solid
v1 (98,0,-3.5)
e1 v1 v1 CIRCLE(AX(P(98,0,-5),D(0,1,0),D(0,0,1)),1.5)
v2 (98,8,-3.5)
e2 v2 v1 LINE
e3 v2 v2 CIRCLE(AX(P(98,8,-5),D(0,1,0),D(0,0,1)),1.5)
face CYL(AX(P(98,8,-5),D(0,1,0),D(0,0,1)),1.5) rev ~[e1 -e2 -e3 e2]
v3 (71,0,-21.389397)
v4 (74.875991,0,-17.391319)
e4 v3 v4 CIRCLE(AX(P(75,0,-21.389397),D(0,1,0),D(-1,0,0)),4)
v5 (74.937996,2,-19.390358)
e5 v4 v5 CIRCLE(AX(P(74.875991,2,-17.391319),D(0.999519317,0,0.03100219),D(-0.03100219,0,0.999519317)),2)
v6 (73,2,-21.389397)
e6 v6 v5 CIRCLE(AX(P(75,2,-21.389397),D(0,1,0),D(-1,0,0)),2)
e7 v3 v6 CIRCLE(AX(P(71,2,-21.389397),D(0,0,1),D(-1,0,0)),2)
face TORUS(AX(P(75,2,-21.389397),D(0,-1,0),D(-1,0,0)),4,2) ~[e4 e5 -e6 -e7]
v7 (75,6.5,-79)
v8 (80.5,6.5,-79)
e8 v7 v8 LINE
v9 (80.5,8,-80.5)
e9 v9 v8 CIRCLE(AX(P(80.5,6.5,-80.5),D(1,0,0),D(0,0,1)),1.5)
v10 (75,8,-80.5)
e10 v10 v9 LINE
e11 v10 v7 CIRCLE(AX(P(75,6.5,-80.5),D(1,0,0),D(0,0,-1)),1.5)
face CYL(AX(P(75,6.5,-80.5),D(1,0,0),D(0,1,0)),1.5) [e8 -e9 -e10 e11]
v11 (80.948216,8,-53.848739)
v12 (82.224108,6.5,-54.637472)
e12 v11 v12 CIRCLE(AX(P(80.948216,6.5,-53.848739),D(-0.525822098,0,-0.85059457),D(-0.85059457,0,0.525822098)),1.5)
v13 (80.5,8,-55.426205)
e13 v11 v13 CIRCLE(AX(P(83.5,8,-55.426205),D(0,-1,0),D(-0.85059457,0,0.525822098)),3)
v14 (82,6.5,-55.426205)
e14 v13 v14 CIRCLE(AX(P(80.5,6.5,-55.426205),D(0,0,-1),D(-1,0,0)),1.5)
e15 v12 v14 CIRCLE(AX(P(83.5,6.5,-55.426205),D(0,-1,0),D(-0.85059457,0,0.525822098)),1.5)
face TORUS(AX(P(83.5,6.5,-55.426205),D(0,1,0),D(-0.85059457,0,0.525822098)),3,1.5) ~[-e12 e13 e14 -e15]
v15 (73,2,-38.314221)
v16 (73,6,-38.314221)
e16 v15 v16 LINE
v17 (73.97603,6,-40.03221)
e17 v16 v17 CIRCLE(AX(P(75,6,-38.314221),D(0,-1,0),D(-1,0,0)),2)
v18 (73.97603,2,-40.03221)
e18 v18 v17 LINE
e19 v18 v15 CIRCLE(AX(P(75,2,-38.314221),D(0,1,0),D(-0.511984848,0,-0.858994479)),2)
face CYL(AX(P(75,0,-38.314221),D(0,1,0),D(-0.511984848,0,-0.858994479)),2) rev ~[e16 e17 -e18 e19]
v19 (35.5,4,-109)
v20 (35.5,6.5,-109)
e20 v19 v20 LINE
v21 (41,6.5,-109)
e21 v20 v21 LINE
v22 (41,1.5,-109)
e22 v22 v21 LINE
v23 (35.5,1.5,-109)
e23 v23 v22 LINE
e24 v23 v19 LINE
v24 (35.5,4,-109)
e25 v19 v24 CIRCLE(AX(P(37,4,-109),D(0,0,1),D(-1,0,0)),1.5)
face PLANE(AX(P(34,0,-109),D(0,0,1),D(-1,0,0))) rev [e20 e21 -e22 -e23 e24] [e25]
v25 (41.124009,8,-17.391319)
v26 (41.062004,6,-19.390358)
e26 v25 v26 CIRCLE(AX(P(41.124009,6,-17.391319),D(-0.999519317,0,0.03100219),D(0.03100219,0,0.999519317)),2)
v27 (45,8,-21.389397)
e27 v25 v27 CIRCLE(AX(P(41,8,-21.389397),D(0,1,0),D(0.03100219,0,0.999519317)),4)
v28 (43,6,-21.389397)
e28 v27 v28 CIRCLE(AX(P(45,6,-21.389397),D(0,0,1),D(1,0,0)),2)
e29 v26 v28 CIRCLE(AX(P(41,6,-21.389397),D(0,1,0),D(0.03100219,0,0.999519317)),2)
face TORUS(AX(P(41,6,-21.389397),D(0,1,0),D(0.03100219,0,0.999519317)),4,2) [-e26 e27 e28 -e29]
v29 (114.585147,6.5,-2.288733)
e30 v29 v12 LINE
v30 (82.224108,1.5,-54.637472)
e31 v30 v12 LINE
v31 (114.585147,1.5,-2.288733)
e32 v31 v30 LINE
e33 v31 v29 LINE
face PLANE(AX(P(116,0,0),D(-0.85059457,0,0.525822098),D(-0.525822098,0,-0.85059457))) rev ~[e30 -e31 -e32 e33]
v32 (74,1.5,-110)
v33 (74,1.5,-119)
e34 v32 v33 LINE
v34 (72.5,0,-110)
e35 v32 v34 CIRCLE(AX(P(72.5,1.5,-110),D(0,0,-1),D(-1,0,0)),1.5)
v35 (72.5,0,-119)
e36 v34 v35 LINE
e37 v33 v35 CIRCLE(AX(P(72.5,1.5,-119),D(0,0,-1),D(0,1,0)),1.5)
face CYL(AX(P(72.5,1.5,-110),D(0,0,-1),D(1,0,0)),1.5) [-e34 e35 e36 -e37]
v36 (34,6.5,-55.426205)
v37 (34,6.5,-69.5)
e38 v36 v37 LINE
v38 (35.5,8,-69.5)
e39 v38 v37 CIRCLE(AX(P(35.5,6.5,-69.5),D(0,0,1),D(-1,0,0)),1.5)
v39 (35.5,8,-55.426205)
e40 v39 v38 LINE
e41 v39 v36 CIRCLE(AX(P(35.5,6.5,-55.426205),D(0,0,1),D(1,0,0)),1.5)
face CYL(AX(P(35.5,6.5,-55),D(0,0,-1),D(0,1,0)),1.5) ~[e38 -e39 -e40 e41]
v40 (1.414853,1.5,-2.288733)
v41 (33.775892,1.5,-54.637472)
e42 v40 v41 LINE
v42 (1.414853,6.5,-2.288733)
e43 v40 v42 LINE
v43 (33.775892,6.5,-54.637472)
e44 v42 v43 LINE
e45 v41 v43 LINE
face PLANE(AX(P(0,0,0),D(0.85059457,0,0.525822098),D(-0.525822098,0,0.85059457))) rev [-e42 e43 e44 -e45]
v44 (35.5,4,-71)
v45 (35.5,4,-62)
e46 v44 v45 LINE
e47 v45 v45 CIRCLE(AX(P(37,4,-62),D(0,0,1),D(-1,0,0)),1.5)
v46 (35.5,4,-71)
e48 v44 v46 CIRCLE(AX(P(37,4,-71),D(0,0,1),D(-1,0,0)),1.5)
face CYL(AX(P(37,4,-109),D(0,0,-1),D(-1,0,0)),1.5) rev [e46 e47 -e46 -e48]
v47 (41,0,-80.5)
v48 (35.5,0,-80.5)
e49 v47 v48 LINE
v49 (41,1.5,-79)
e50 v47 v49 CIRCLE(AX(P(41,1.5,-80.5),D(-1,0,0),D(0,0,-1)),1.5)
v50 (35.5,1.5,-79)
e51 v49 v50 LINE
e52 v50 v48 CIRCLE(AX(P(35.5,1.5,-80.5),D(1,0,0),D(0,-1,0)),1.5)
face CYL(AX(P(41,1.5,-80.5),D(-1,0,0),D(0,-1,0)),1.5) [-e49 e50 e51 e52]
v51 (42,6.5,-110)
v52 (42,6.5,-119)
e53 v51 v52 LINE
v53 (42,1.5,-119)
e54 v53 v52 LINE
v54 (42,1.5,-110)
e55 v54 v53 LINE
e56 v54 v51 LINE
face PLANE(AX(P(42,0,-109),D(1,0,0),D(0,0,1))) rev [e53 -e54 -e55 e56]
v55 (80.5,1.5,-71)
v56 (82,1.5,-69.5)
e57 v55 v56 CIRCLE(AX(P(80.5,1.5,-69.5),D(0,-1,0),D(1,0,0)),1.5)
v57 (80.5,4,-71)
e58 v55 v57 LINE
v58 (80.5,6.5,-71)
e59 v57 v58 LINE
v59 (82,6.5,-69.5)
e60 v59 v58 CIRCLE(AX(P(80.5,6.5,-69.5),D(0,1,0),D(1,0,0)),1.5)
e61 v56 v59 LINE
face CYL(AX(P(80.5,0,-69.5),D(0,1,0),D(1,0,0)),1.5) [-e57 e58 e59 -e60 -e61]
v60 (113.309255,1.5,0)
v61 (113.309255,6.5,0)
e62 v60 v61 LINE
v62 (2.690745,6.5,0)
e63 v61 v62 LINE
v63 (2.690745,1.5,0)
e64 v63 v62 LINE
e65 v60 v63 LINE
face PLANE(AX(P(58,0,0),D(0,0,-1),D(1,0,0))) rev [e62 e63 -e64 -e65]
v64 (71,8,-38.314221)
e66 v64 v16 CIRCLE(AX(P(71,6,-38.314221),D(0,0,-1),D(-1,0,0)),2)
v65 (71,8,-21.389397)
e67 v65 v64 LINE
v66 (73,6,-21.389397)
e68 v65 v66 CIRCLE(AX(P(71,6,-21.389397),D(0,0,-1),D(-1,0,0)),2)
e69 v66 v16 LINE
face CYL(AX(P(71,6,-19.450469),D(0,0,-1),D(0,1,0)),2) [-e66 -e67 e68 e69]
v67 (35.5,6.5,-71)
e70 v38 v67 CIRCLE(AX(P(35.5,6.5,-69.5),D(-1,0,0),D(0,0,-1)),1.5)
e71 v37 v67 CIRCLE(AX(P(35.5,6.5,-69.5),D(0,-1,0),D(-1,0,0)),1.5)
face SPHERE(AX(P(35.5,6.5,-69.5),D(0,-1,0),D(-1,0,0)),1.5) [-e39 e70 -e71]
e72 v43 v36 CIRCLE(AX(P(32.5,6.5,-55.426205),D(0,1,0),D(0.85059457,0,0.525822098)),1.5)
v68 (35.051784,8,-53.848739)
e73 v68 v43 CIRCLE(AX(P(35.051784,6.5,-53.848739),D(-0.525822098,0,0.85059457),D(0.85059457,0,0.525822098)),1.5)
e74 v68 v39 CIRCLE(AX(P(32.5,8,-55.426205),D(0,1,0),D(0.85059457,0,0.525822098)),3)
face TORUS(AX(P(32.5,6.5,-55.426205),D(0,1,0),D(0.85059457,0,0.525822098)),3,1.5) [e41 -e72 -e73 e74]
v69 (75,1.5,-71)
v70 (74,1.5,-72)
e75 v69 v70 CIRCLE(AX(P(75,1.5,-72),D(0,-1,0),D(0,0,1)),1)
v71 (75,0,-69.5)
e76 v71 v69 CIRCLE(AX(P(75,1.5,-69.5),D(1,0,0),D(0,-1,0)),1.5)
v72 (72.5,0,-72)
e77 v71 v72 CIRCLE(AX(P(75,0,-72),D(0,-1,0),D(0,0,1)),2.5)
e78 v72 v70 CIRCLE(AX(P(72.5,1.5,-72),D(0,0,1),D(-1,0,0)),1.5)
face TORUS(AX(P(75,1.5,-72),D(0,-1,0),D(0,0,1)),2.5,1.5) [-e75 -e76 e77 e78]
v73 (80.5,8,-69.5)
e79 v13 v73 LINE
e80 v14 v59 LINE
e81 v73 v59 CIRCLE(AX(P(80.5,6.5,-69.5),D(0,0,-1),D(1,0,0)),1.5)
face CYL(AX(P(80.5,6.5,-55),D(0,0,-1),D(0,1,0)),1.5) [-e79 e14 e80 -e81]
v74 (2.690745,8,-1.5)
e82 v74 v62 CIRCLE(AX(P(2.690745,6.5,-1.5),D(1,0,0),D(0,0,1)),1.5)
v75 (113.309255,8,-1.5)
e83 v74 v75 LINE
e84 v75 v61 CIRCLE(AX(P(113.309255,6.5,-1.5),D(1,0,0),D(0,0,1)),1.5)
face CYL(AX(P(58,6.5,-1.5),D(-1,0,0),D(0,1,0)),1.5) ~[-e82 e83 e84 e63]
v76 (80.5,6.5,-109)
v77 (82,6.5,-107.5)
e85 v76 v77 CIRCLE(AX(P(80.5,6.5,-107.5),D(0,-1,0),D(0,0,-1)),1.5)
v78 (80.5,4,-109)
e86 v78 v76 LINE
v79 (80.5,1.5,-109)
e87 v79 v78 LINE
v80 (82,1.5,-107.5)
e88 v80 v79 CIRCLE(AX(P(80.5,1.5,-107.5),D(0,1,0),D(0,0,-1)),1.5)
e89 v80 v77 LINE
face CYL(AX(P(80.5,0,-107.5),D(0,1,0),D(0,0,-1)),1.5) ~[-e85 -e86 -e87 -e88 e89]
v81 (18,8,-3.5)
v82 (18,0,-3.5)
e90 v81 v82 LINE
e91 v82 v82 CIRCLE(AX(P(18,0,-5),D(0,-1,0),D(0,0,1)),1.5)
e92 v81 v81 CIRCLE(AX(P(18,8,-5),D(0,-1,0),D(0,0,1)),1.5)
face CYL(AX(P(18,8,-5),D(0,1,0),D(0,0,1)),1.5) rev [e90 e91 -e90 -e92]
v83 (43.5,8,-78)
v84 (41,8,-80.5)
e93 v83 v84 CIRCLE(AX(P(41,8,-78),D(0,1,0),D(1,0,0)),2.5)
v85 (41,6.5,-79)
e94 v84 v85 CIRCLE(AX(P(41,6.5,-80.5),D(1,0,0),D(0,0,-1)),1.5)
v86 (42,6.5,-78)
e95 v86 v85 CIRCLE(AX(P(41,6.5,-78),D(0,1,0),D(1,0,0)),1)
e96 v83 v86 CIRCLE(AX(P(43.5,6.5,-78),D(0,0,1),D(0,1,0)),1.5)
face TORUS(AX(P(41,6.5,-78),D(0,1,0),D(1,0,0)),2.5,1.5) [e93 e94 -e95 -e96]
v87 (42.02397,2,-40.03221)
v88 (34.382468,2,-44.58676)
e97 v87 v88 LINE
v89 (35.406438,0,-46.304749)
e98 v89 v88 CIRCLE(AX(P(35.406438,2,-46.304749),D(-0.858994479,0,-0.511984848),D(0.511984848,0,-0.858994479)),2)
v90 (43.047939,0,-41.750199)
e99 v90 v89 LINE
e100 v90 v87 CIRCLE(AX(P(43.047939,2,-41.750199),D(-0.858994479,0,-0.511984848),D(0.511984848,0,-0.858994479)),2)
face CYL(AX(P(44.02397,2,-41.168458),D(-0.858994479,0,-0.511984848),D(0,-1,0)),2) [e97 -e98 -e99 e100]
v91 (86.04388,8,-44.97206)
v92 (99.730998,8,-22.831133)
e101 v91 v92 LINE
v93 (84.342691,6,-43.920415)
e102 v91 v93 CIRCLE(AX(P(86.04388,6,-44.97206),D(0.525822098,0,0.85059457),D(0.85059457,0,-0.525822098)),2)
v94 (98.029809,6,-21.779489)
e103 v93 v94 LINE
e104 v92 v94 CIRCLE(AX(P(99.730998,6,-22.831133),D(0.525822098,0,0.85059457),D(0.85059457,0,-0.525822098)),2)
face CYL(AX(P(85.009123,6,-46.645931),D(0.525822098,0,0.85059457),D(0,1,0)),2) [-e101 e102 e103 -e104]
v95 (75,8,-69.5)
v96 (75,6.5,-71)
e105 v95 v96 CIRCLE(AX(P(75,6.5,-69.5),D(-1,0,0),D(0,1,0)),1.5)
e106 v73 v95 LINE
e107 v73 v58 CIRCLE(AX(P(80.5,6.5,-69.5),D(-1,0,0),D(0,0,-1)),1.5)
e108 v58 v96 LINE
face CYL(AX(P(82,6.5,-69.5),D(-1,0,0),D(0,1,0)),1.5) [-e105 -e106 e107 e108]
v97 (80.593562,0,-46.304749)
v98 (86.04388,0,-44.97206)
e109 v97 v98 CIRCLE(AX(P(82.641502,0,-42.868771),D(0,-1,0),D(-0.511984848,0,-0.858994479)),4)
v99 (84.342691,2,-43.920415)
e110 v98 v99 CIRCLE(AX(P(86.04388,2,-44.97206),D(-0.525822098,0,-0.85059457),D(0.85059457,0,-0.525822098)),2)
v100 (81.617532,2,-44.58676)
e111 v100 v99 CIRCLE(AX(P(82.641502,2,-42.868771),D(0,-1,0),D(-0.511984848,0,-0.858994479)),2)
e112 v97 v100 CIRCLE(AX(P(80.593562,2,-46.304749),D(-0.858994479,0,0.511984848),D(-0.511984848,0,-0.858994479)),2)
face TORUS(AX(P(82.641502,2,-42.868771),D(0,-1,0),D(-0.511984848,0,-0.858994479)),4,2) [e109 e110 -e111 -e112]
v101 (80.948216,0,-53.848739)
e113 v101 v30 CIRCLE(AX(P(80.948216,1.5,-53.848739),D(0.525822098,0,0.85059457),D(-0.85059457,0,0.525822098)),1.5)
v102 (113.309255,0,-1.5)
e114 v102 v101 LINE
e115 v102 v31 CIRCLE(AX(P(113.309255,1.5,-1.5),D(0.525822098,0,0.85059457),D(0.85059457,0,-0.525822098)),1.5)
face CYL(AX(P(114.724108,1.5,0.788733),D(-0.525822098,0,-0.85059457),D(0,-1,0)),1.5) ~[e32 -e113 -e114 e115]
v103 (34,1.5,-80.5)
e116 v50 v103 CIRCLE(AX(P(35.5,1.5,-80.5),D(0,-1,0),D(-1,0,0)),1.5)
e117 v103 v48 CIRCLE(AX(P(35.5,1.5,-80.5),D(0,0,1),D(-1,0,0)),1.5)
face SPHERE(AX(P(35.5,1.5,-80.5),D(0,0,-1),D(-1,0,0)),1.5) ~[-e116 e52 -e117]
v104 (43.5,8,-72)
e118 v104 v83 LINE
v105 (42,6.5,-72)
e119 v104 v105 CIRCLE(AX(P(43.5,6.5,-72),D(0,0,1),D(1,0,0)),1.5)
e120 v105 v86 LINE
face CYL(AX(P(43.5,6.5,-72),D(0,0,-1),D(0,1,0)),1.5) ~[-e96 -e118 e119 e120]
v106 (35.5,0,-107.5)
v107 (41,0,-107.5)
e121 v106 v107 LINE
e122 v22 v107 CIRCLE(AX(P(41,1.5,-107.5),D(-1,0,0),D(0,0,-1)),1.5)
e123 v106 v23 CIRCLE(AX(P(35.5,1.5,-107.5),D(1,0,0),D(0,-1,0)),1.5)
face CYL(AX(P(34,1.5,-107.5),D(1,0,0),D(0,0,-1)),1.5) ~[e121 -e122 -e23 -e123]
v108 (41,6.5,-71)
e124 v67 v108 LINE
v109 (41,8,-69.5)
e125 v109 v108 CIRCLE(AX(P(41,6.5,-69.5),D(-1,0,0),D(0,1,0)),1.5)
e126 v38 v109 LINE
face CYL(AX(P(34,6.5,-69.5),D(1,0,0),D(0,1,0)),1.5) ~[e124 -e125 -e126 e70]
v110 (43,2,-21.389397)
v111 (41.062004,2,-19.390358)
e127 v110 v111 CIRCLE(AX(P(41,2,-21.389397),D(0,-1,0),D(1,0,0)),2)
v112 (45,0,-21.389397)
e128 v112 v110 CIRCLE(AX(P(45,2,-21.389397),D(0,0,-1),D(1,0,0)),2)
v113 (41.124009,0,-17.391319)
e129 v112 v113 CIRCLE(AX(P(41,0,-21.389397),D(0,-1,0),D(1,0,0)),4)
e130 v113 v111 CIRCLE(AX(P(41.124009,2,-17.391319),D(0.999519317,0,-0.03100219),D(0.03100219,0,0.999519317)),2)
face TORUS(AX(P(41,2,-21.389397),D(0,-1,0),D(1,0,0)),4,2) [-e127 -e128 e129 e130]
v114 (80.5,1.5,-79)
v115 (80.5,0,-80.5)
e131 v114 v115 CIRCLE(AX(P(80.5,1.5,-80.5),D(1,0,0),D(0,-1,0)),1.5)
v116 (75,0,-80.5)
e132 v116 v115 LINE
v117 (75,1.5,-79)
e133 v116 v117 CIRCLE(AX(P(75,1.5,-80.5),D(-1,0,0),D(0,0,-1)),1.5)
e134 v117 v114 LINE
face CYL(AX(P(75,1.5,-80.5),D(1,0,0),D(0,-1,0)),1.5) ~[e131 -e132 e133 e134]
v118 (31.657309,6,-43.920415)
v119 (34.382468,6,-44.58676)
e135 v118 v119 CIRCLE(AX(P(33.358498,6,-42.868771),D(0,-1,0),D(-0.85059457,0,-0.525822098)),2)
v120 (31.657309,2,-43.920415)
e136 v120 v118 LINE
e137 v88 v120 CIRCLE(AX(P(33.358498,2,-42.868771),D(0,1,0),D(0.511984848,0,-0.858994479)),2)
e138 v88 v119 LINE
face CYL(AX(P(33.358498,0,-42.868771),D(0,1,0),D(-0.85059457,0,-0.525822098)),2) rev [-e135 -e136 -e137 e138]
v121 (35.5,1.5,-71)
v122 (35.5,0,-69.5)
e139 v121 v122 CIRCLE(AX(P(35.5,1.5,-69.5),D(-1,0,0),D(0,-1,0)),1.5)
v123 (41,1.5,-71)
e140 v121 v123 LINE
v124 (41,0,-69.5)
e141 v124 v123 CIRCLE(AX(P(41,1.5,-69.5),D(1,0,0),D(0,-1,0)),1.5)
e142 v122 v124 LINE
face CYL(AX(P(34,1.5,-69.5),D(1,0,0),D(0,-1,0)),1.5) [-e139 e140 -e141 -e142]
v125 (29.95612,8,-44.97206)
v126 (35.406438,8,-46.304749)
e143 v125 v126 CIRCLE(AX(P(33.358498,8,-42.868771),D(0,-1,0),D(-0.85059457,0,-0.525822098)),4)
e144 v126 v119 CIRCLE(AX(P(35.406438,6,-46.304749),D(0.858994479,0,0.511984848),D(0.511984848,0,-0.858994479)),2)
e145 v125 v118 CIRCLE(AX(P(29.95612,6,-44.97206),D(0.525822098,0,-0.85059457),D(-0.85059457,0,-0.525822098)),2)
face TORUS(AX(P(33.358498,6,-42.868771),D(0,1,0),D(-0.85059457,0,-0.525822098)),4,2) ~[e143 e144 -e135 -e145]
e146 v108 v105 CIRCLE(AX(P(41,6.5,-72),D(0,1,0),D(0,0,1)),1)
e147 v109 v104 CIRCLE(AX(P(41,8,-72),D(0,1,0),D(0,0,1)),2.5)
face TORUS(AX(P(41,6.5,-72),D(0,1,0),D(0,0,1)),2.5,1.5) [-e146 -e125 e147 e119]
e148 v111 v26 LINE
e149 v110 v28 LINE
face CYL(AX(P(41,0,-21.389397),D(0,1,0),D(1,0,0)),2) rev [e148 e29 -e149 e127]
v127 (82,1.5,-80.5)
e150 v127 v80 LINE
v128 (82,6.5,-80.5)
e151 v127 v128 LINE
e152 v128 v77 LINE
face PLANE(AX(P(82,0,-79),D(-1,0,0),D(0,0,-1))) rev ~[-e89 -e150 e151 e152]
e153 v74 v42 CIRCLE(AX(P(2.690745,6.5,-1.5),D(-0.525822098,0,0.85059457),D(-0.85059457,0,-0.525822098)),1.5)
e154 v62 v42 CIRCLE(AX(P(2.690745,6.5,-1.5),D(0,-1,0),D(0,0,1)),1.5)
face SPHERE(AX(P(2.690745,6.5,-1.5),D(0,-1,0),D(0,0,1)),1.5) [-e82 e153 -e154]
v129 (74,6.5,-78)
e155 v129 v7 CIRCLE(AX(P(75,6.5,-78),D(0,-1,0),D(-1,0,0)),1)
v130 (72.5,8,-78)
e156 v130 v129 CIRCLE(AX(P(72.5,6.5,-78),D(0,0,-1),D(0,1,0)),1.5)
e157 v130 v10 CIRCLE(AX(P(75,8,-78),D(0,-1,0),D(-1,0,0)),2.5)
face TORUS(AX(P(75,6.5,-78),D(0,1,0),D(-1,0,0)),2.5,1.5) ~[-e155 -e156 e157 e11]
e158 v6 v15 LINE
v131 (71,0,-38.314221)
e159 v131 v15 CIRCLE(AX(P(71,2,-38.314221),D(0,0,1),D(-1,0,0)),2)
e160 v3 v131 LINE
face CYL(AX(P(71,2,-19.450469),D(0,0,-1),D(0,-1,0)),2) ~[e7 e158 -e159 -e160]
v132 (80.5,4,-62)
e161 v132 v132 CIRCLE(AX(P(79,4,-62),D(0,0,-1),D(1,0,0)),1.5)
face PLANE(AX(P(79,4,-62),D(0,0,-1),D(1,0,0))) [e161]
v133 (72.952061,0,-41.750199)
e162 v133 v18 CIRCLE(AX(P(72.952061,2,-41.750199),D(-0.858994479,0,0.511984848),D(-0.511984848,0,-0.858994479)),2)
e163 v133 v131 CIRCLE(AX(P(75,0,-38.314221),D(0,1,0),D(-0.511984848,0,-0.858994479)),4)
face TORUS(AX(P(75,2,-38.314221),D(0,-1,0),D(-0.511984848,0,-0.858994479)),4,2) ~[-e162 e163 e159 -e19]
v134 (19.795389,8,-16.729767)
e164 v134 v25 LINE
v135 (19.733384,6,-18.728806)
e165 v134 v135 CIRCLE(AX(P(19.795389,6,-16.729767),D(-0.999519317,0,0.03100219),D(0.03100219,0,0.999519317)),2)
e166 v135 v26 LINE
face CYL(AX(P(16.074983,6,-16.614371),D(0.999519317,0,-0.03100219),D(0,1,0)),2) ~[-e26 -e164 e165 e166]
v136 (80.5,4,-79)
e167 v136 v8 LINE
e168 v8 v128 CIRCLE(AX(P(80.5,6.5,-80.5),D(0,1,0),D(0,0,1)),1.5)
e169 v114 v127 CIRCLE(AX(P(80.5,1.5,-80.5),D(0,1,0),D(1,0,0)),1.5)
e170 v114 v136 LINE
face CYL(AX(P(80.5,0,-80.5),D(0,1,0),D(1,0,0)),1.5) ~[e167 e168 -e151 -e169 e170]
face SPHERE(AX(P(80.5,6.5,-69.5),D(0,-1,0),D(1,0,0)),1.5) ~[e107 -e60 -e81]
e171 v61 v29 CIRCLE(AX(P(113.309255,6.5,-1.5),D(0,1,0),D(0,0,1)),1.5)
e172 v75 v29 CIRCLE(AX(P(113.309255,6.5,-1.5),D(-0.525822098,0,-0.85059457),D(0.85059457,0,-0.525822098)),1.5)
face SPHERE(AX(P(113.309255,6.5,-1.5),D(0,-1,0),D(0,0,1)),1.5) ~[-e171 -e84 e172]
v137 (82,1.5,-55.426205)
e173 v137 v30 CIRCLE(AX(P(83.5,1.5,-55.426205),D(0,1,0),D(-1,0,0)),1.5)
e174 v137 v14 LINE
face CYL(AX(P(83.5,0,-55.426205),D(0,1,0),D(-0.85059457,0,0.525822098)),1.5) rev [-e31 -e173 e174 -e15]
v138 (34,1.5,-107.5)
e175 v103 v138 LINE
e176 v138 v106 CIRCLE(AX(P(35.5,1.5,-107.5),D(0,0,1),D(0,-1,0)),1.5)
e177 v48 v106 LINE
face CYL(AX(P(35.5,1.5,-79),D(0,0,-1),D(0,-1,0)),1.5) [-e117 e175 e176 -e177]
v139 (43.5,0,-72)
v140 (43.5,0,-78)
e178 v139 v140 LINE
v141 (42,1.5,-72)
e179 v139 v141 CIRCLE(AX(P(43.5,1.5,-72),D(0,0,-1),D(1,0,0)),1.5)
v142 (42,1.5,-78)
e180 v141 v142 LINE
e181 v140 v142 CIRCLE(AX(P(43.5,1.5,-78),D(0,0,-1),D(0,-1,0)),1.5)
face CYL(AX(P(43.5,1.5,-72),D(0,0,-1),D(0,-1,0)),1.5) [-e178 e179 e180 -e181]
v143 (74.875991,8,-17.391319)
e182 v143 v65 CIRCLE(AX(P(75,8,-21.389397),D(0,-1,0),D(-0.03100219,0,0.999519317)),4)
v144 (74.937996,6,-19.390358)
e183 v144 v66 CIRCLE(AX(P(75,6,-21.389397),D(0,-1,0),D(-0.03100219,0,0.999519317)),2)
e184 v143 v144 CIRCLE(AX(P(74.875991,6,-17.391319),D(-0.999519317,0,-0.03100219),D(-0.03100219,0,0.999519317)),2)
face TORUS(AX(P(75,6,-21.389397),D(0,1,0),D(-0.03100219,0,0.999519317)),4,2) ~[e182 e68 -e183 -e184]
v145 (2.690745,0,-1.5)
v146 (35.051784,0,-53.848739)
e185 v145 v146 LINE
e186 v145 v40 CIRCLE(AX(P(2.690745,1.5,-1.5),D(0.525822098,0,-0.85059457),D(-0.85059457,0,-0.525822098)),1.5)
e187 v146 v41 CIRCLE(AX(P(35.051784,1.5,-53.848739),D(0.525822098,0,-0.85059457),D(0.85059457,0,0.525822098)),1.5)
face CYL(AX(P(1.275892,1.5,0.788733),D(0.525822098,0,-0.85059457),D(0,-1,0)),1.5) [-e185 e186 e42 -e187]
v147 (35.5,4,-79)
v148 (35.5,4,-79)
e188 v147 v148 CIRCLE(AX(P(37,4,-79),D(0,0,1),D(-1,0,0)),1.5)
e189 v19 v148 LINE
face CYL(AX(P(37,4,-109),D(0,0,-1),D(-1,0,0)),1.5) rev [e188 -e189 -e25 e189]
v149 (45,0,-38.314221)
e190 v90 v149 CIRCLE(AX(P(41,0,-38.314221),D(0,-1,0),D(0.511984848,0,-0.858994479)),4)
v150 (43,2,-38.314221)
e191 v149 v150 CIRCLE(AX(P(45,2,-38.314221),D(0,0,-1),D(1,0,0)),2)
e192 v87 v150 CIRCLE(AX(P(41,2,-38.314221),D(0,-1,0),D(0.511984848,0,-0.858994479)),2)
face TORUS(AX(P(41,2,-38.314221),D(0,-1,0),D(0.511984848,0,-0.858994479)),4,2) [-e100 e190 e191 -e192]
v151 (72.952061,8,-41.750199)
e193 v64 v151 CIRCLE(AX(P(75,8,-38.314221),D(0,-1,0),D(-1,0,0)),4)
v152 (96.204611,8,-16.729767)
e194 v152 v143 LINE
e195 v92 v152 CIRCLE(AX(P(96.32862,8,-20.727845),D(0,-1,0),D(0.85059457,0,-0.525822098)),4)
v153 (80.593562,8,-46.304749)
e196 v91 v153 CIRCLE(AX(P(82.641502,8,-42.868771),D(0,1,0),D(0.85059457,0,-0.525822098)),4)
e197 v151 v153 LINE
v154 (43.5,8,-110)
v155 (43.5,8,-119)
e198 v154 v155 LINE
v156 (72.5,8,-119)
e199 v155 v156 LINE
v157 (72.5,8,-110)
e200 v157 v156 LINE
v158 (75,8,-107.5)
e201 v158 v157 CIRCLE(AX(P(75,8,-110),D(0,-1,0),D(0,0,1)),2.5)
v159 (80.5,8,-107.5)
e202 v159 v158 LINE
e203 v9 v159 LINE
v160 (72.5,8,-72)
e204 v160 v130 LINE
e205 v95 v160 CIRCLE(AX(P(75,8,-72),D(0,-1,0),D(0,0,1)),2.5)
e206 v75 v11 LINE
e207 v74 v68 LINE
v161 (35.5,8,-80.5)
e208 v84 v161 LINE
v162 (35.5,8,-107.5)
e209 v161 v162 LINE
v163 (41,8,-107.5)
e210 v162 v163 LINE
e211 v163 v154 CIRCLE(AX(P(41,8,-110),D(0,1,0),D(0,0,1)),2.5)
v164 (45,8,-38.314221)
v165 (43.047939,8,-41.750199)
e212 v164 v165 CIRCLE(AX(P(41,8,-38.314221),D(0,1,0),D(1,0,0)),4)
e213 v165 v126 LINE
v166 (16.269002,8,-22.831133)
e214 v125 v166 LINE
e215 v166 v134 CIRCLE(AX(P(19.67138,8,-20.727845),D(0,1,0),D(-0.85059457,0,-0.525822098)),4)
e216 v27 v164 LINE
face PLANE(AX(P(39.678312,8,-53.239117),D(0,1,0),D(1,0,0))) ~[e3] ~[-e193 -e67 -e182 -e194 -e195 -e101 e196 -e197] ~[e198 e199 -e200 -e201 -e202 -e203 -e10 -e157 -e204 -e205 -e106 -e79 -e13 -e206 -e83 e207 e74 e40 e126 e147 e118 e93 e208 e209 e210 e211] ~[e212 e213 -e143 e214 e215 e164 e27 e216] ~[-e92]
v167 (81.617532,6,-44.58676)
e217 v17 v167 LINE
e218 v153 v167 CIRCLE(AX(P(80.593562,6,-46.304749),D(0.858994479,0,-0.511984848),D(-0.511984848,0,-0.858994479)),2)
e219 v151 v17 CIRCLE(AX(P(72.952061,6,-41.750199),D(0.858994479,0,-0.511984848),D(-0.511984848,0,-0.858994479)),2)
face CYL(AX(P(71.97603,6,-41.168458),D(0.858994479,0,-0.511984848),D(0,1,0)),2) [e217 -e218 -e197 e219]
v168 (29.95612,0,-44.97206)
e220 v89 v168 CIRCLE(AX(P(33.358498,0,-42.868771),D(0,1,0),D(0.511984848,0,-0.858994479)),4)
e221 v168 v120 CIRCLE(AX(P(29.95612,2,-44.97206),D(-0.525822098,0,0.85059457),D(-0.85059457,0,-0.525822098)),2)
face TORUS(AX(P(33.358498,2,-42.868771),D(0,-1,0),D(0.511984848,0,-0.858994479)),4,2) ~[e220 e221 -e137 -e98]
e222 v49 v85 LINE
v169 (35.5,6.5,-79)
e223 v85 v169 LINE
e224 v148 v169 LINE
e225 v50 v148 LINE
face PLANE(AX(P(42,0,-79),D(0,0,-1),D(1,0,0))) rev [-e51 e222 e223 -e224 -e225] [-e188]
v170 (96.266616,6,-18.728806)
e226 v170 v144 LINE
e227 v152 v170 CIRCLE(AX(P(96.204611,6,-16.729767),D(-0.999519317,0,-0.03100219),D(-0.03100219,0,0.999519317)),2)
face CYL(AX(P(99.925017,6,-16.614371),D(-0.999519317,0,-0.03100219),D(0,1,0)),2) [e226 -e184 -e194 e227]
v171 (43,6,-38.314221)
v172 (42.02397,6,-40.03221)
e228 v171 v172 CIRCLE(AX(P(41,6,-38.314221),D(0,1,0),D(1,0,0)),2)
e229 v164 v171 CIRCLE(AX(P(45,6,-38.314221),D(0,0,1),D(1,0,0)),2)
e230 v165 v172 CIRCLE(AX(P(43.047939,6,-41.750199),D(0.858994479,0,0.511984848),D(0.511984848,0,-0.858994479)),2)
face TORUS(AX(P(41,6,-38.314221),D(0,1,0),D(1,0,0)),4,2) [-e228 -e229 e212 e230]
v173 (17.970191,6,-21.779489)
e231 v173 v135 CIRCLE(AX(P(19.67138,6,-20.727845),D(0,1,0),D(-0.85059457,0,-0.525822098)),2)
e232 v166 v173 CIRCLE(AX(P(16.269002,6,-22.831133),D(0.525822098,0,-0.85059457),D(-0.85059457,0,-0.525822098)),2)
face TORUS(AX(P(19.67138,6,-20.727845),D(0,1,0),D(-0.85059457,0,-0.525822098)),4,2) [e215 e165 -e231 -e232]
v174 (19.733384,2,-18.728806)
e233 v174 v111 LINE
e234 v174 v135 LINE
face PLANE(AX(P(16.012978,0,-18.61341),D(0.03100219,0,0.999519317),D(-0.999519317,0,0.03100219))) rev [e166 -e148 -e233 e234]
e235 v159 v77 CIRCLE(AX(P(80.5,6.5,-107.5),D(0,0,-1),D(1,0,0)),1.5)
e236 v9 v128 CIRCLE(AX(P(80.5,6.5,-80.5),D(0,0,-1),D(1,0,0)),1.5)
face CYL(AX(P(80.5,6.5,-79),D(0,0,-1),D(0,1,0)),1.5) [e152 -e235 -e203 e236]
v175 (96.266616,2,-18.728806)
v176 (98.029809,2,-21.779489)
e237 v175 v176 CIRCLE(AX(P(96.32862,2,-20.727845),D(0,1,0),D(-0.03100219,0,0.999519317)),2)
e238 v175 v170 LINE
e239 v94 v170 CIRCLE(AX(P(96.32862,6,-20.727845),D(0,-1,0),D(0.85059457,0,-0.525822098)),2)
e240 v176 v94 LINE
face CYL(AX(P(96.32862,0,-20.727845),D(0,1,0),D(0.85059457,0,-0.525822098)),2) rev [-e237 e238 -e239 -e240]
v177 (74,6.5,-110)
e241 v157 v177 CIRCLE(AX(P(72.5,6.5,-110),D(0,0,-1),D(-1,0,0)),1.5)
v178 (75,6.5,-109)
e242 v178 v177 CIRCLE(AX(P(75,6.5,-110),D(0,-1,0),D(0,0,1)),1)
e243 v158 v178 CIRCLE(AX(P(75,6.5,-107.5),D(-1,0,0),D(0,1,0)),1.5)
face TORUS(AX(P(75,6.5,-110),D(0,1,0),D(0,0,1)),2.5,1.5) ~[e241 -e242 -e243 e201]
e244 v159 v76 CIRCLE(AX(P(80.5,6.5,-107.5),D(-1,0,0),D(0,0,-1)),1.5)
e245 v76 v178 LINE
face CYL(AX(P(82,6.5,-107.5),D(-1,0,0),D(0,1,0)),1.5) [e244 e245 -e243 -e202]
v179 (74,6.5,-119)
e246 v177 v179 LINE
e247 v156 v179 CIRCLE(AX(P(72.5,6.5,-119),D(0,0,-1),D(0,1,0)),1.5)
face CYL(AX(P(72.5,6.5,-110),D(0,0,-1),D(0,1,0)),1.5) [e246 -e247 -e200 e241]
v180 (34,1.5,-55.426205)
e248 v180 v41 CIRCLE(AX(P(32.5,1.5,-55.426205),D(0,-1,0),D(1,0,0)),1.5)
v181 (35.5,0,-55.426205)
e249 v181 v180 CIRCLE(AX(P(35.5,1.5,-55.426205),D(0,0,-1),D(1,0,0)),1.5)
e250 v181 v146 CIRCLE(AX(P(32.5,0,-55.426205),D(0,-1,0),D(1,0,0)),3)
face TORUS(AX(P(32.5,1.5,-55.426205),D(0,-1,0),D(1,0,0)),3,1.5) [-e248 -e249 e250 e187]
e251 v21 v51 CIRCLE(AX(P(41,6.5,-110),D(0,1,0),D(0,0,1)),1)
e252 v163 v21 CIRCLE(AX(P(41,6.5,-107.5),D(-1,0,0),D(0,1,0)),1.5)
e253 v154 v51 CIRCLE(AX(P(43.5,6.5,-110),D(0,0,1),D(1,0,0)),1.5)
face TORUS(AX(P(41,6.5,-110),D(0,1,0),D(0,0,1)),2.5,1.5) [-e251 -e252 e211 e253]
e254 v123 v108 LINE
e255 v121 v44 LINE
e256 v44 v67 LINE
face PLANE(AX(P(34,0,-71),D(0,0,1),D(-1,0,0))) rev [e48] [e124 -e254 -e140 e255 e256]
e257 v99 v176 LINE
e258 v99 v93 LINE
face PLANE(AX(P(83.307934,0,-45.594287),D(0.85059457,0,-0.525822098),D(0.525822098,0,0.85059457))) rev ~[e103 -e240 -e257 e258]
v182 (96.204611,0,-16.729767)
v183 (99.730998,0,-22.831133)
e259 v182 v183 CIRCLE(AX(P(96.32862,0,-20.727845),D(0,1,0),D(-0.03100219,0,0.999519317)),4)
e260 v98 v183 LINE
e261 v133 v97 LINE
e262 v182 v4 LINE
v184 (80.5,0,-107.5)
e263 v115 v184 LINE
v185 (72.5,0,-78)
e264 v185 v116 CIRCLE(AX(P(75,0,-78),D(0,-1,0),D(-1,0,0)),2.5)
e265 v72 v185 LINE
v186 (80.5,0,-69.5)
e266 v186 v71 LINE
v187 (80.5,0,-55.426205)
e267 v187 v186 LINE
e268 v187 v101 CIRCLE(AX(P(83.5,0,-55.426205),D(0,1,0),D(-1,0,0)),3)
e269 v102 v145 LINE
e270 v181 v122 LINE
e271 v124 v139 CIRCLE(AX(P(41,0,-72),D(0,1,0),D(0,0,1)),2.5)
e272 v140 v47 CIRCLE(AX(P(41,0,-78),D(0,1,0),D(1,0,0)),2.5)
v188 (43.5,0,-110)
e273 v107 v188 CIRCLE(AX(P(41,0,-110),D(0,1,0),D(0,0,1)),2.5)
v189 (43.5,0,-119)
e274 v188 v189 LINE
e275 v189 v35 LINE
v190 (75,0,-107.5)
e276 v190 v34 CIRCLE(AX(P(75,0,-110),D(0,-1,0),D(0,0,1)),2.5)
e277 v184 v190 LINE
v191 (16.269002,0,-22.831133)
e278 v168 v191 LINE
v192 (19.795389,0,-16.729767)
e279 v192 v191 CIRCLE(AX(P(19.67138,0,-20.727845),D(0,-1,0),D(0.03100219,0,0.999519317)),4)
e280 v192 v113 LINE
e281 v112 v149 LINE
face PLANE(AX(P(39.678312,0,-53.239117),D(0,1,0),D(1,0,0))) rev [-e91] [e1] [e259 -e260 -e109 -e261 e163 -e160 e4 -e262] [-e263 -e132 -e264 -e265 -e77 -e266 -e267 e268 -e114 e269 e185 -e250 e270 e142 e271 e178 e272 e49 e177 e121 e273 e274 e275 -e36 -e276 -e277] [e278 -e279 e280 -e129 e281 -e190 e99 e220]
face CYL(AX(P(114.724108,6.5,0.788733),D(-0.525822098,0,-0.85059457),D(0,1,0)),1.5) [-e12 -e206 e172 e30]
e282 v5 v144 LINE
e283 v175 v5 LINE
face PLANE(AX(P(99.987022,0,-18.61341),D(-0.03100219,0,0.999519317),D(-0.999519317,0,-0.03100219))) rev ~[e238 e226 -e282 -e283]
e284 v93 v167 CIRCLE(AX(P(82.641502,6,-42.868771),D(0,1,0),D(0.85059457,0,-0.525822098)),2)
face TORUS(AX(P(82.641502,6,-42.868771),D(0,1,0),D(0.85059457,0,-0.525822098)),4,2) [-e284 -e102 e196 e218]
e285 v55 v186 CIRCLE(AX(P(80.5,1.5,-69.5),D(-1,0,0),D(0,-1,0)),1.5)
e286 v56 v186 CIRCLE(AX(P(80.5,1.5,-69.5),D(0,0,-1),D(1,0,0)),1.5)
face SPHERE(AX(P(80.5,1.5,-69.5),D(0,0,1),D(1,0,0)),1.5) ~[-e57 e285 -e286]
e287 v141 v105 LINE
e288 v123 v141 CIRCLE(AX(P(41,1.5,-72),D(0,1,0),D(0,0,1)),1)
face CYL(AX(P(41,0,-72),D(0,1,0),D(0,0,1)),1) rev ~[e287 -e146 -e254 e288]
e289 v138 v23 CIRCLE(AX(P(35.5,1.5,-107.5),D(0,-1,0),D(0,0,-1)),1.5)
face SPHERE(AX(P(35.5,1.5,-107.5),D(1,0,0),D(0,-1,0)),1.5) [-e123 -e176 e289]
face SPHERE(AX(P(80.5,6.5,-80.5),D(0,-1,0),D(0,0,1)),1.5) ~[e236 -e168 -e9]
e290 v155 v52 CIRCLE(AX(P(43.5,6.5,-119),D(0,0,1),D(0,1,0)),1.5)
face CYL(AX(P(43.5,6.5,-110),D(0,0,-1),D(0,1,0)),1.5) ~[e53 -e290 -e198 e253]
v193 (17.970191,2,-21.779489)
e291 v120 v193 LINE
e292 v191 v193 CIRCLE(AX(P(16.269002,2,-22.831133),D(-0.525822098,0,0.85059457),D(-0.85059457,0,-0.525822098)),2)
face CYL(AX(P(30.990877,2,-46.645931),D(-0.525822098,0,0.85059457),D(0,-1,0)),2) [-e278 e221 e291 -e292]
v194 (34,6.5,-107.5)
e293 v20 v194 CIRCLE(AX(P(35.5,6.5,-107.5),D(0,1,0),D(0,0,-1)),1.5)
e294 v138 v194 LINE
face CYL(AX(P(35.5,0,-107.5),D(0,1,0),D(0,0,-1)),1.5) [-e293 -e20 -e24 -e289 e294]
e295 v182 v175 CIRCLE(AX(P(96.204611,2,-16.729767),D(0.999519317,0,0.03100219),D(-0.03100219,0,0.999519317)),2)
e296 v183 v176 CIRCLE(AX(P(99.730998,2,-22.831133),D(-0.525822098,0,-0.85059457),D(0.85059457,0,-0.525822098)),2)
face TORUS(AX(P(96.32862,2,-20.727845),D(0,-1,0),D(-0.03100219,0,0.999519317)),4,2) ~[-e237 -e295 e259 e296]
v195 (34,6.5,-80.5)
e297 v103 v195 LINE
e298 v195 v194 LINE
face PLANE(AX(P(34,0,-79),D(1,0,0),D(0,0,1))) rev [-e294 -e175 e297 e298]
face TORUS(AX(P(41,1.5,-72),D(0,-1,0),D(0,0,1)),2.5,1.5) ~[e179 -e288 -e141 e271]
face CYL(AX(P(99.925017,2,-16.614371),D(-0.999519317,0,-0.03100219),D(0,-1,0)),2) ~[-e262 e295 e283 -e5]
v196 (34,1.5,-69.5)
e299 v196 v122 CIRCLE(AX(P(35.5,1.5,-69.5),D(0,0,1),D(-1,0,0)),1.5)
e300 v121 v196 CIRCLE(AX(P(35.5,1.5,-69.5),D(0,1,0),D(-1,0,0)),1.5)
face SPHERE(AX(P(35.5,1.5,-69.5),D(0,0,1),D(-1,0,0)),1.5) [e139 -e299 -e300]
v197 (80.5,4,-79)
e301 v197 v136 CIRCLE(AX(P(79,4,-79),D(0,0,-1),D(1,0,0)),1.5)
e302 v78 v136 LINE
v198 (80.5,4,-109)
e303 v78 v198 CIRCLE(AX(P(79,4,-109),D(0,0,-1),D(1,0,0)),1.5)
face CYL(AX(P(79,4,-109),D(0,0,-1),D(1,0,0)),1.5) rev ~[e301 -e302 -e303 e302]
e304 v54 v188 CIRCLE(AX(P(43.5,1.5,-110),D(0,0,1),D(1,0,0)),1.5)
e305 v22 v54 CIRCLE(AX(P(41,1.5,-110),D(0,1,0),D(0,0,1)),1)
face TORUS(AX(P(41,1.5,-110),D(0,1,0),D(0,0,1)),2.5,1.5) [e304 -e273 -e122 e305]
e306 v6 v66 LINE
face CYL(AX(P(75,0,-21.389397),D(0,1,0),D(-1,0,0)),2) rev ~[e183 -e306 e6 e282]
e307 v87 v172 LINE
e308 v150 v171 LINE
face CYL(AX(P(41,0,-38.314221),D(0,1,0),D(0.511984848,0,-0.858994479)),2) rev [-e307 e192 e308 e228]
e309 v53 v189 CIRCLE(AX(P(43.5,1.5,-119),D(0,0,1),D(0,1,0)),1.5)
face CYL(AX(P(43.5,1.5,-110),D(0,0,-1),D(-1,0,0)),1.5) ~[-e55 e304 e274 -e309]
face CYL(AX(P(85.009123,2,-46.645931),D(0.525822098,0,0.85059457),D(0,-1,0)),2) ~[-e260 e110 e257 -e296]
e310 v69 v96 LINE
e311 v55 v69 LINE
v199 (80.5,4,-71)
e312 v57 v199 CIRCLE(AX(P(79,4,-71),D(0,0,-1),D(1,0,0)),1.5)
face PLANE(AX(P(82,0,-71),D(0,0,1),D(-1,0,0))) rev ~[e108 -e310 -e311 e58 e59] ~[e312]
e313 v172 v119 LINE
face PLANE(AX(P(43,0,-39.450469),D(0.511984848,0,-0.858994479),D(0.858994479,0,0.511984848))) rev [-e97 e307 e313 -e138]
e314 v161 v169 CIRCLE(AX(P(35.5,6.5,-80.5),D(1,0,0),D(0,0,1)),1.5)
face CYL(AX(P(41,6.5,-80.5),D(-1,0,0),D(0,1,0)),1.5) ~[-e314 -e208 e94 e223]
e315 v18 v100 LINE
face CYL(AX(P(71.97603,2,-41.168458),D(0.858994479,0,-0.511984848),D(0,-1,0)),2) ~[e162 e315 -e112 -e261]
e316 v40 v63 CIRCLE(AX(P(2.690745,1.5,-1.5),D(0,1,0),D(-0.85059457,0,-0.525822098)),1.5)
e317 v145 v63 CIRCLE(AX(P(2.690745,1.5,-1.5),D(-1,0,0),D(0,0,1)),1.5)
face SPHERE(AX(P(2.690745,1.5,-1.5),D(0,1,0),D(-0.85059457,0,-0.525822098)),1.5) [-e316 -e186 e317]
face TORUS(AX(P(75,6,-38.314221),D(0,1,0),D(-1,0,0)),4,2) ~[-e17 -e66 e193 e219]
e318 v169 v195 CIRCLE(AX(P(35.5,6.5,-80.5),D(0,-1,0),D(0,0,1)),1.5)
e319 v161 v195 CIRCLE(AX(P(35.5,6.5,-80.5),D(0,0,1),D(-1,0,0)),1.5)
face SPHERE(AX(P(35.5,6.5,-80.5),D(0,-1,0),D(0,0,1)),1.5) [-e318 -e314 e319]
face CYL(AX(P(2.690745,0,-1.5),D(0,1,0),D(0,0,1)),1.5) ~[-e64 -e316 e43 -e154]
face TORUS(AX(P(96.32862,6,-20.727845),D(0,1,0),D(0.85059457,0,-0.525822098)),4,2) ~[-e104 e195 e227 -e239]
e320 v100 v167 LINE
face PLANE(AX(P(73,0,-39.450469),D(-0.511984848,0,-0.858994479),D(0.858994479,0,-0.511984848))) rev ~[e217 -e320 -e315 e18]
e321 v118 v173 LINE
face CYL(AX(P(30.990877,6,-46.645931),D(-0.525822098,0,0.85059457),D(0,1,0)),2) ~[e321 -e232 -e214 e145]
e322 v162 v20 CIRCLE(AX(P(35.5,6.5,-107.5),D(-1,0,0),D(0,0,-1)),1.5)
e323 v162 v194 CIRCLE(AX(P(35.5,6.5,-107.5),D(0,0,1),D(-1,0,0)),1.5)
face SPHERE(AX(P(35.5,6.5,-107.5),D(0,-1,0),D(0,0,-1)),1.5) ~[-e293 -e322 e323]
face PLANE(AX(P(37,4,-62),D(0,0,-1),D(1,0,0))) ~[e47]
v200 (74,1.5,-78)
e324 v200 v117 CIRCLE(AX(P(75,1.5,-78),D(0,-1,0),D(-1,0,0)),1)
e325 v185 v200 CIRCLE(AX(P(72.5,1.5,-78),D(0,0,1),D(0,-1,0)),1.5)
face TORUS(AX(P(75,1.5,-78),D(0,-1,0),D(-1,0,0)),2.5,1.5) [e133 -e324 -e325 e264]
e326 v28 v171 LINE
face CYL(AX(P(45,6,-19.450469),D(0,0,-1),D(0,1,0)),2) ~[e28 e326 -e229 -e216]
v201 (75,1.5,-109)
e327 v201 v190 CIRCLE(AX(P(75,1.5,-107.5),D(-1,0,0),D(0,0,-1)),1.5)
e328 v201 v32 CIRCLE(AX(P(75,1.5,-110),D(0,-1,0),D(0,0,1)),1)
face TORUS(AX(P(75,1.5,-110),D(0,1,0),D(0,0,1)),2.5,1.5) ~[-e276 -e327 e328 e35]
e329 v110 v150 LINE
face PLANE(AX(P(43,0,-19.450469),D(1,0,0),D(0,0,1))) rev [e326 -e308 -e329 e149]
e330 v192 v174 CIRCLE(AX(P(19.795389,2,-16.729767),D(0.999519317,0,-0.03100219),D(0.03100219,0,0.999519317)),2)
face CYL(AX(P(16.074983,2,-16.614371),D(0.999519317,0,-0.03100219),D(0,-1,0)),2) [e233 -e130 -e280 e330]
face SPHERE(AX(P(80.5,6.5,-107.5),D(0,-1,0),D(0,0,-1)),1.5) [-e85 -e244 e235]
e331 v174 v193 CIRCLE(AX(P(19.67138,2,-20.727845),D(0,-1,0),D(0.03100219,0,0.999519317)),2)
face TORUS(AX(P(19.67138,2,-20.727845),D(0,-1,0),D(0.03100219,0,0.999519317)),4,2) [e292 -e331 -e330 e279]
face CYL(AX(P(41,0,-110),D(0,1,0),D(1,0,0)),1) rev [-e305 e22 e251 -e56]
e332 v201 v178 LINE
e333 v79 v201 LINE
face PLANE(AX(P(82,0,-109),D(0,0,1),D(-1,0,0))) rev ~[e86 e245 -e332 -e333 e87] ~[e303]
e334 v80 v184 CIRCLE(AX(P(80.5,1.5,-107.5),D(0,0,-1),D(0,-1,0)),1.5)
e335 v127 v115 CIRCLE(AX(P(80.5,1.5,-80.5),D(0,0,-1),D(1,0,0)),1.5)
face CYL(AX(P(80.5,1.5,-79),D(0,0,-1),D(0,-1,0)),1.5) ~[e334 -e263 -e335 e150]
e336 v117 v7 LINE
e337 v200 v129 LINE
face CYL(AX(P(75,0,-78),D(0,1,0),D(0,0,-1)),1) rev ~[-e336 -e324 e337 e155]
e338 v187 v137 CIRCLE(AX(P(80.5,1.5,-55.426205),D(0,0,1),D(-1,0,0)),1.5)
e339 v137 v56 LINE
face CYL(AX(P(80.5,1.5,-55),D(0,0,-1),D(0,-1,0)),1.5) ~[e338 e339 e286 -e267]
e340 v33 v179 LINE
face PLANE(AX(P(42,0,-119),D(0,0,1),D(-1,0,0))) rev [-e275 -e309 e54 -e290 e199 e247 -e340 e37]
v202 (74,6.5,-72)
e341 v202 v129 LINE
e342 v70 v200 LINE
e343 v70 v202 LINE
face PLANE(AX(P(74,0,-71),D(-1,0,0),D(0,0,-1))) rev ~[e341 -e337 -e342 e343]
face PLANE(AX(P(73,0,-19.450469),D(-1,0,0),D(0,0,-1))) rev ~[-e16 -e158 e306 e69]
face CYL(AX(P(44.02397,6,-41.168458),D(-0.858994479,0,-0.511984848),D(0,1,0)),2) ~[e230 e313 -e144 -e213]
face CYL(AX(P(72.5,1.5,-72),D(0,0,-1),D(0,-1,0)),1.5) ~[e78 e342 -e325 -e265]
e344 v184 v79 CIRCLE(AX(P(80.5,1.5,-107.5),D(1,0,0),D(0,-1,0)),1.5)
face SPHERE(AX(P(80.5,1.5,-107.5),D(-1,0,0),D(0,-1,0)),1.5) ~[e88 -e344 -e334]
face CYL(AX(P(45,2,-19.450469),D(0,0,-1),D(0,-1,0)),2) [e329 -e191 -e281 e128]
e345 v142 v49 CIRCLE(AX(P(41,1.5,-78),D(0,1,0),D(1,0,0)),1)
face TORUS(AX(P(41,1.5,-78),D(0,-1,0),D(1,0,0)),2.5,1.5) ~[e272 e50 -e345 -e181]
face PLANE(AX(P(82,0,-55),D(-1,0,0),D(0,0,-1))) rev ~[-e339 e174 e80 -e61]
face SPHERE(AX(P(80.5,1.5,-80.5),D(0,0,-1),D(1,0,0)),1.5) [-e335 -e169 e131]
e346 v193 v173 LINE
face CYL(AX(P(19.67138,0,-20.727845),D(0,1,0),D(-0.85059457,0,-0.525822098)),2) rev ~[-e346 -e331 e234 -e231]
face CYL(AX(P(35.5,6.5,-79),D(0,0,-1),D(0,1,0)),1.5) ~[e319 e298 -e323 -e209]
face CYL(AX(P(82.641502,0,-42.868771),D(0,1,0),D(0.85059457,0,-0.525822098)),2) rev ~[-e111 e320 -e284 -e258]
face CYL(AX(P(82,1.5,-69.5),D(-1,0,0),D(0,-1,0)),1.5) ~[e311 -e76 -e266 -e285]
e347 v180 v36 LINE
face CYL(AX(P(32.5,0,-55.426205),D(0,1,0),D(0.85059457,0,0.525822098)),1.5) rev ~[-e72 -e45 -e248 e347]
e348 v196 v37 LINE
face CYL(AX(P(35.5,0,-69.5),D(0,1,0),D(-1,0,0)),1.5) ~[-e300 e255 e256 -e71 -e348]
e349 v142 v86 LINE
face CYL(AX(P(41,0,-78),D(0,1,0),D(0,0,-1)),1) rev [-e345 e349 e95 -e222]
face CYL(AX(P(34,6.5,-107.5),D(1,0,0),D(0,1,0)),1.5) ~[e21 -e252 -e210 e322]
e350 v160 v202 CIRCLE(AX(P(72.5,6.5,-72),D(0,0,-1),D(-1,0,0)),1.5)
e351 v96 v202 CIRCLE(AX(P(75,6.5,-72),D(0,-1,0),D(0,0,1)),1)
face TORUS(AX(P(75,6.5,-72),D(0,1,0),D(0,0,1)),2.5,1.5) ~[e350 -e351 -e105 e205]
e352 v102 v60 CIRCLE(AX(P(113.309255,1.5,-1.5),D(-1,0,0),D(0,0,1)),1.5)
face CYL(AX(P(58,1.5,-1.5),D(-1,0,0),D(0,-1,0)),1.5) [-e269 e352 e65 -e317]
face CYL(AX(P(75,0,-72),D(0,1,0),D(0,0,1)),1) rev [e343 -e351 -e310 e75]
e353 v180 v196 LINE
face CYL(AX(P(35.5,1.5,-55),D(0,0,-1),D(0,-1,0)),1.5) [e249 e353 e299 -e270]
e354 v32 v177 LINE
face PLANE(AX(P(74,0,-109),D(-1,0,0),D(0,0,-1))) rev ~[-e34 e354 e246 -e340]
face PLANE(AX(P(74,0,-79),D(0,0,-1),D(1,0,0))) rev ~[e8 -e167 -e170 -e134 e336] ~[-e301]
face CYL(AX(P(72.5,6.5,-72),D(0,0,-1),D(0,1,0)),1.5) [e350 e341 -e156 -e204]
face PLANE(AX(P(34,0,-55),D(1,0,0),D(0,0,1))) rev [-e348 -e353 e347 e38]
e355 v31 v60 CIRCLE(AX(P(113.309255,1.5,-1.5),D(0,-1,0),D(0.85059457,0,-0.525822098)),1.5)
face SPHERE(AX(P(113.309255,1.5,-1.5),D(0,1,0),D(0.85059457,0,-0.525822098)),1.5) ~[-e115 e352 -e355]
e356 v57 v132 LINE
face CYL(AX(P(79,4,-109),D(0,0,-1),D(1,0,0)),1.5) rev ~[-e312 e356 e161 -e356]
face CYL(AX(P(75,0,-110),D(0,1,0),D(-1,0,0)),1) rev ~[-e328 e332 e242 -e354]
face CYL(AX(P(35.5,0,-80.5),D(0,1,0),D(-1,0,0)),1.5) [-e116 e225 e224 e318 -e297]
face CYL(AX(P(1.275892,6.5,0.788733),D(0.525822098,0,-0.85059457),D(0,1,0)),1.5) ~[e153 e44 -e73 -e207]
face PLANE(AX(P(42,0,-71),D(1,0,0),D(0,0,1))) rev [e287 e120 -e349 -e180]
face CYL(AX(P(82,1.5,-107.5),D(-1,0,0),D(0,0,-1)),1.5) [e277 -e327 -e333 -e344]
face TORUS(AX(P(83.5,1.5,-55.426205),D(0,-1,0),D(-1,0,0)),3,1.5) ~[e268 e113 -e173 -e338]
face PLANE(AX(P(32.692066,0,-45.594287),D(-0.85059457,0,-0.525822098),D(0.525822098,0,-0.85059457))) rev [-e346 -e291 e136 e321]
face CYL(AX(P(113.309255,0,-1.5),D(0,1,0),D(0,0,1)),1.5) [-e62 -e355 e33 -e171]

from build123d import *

# Parameters (mm, degrees)
BOSS_EXTRUDE1_DEPTH = 8
FILLET1_R           = 1
FILLET2_R           = 1.5
FILLET3_R           = 2
SKETCH2_R           = 1.5
CUT_EXTRUDE1_DEPTH  = 47
SKETCH3_R           = 1.5
CUT_EXTRUDE2_DEPTH  = 166.548074645


with BuildPart() as part:
    # Sketch1 → Boss-Extrude1 (new body)
    with BuildSketch(Plane(origin=(0, 0, 0), x_dir=(1, 0, 0), z_dir=(0, 1, 0))):
        Polygon((58, 119), (58, 0), (116, 0), (82, 55), (82, 71), (74, 71), (74, 79), (82, 79), (82, 109), (74, 109), (74, 119), align=None)
        Polygon((99.987021547, 18.613409802), (73, 19.450468943), (73, 39.450468943), (83.307933748, 45.594287125), align=None, mode=Mode.SUBTRACT)
    extrude(amount=BOSS_EXTRUDE1_DEPTH)

    # Fillet1
    fillet1_edges = [part.edges().sort_by_distance(p)[0] for p in [
        (74, 4, -109),
        (74, 4, -79),
        (74, 4, -71),
    ]]
    fillet(fillet1_edges, radius=FILLET1_R)

    # Fillet2
    fillet2_edges = [part.edges().sort_by_distance(p)[0] for p in [
        (74, 0, -114.5),
        (82, 0, -94),
        (82, 0, -63),
        (99, 0, -27.5),
        (87, 0, 0),
        (82, 4, -109),
        (82, 4, -79),
        (82, 4, -71),
        (82, 4, -55),
        (116, 4, 0),
        (87, 8, 0),
        (99, 8, -27.5),
        (74, 0, -75),
        (82, 8, -63),
        (74, 8, -75),
        (78.5, 0, -71),
        (78.5, 8, -71),
        (78.5, 0, -79),
        (78.5, 8, -79),
        (78.5, 0, -109),
        (78.5, 8, -109),
        (74.292893219, 0, -71.292893219),
        (74.292893219, 8, -71.292893219),
        (74.292893219, 0, -78.707106781),
        (74.292893219, 8, -78.707106781),
        (74.292893219, 0, -109.292893219),
        (74.292893219, 8, -109.292893219),
        (82, 8, -94),
        (74, 8, -114.5),
    ]]
    fillet(fillet2_edges, radius=FILLET2_R)

    # Fillet3
    fillet3_edges = [part.edges().sort_by_distance(p)[0] for p in [
        (86.493510774, 8, -19.031939373),
        (73, 8, -29.450468943),
        (78.153966874, 8, -42.522378034),
        (78.153966874, 0, -42.522378034),
        (73, 0, -29.450468943),
        (86.493510774, 0, -19.031939373),
        (91.647477648, 0, -32.103848464),
        (83.307933748, 4, -45.594287125),
        (73, 4, -39.450468943),
        (73, 4, -19.450468943),
        (99.987021547, 4, -18.613409802),
        (91.647477648, 8, -32.103848464),
    ]]
    fillet(fillet3_edges, radius=FILLET3_R)

    # Sketch2 → Cut-Extrude1 (cut)
    with BuildSketch(Plane(origin=(0, 0, -109), x_dir=(-1, 0, 0), z_dir=(0, 0, -1))):
        with Locations(Location((-79, 4, 0), (0, 0, 180))):
            Circle(SKETCH2_R)
    extrude(amount=-CUT_EXTRUDE1_DEPTH, mode=Mode.SUBTRACT)

    # Sketch3 → Cut-Extrude2 (cut, through all)
    with BuildSketch(Plane(origin=(0, 8, 0), x_dir=(1, 0, 0), z_dir=(0, 1, 0))):
        with Locations(Location((98, 5, 0), (0, 0, 270))):
            Circle(SKETCH3_R)
    extrude(amount=-CUT_EXTRUDE2_DEPTH, mode=Mode.SUBTRACT)

    # Mirror1: part across plane


with BuildPart() as part_1:
    add(part.part)
    add(part.part.mirror(Plane(origin=(58, 8, 0), x_dir=(0, 0, 1), z_dir=(1, 0, 0))))


solid = part_1.part
